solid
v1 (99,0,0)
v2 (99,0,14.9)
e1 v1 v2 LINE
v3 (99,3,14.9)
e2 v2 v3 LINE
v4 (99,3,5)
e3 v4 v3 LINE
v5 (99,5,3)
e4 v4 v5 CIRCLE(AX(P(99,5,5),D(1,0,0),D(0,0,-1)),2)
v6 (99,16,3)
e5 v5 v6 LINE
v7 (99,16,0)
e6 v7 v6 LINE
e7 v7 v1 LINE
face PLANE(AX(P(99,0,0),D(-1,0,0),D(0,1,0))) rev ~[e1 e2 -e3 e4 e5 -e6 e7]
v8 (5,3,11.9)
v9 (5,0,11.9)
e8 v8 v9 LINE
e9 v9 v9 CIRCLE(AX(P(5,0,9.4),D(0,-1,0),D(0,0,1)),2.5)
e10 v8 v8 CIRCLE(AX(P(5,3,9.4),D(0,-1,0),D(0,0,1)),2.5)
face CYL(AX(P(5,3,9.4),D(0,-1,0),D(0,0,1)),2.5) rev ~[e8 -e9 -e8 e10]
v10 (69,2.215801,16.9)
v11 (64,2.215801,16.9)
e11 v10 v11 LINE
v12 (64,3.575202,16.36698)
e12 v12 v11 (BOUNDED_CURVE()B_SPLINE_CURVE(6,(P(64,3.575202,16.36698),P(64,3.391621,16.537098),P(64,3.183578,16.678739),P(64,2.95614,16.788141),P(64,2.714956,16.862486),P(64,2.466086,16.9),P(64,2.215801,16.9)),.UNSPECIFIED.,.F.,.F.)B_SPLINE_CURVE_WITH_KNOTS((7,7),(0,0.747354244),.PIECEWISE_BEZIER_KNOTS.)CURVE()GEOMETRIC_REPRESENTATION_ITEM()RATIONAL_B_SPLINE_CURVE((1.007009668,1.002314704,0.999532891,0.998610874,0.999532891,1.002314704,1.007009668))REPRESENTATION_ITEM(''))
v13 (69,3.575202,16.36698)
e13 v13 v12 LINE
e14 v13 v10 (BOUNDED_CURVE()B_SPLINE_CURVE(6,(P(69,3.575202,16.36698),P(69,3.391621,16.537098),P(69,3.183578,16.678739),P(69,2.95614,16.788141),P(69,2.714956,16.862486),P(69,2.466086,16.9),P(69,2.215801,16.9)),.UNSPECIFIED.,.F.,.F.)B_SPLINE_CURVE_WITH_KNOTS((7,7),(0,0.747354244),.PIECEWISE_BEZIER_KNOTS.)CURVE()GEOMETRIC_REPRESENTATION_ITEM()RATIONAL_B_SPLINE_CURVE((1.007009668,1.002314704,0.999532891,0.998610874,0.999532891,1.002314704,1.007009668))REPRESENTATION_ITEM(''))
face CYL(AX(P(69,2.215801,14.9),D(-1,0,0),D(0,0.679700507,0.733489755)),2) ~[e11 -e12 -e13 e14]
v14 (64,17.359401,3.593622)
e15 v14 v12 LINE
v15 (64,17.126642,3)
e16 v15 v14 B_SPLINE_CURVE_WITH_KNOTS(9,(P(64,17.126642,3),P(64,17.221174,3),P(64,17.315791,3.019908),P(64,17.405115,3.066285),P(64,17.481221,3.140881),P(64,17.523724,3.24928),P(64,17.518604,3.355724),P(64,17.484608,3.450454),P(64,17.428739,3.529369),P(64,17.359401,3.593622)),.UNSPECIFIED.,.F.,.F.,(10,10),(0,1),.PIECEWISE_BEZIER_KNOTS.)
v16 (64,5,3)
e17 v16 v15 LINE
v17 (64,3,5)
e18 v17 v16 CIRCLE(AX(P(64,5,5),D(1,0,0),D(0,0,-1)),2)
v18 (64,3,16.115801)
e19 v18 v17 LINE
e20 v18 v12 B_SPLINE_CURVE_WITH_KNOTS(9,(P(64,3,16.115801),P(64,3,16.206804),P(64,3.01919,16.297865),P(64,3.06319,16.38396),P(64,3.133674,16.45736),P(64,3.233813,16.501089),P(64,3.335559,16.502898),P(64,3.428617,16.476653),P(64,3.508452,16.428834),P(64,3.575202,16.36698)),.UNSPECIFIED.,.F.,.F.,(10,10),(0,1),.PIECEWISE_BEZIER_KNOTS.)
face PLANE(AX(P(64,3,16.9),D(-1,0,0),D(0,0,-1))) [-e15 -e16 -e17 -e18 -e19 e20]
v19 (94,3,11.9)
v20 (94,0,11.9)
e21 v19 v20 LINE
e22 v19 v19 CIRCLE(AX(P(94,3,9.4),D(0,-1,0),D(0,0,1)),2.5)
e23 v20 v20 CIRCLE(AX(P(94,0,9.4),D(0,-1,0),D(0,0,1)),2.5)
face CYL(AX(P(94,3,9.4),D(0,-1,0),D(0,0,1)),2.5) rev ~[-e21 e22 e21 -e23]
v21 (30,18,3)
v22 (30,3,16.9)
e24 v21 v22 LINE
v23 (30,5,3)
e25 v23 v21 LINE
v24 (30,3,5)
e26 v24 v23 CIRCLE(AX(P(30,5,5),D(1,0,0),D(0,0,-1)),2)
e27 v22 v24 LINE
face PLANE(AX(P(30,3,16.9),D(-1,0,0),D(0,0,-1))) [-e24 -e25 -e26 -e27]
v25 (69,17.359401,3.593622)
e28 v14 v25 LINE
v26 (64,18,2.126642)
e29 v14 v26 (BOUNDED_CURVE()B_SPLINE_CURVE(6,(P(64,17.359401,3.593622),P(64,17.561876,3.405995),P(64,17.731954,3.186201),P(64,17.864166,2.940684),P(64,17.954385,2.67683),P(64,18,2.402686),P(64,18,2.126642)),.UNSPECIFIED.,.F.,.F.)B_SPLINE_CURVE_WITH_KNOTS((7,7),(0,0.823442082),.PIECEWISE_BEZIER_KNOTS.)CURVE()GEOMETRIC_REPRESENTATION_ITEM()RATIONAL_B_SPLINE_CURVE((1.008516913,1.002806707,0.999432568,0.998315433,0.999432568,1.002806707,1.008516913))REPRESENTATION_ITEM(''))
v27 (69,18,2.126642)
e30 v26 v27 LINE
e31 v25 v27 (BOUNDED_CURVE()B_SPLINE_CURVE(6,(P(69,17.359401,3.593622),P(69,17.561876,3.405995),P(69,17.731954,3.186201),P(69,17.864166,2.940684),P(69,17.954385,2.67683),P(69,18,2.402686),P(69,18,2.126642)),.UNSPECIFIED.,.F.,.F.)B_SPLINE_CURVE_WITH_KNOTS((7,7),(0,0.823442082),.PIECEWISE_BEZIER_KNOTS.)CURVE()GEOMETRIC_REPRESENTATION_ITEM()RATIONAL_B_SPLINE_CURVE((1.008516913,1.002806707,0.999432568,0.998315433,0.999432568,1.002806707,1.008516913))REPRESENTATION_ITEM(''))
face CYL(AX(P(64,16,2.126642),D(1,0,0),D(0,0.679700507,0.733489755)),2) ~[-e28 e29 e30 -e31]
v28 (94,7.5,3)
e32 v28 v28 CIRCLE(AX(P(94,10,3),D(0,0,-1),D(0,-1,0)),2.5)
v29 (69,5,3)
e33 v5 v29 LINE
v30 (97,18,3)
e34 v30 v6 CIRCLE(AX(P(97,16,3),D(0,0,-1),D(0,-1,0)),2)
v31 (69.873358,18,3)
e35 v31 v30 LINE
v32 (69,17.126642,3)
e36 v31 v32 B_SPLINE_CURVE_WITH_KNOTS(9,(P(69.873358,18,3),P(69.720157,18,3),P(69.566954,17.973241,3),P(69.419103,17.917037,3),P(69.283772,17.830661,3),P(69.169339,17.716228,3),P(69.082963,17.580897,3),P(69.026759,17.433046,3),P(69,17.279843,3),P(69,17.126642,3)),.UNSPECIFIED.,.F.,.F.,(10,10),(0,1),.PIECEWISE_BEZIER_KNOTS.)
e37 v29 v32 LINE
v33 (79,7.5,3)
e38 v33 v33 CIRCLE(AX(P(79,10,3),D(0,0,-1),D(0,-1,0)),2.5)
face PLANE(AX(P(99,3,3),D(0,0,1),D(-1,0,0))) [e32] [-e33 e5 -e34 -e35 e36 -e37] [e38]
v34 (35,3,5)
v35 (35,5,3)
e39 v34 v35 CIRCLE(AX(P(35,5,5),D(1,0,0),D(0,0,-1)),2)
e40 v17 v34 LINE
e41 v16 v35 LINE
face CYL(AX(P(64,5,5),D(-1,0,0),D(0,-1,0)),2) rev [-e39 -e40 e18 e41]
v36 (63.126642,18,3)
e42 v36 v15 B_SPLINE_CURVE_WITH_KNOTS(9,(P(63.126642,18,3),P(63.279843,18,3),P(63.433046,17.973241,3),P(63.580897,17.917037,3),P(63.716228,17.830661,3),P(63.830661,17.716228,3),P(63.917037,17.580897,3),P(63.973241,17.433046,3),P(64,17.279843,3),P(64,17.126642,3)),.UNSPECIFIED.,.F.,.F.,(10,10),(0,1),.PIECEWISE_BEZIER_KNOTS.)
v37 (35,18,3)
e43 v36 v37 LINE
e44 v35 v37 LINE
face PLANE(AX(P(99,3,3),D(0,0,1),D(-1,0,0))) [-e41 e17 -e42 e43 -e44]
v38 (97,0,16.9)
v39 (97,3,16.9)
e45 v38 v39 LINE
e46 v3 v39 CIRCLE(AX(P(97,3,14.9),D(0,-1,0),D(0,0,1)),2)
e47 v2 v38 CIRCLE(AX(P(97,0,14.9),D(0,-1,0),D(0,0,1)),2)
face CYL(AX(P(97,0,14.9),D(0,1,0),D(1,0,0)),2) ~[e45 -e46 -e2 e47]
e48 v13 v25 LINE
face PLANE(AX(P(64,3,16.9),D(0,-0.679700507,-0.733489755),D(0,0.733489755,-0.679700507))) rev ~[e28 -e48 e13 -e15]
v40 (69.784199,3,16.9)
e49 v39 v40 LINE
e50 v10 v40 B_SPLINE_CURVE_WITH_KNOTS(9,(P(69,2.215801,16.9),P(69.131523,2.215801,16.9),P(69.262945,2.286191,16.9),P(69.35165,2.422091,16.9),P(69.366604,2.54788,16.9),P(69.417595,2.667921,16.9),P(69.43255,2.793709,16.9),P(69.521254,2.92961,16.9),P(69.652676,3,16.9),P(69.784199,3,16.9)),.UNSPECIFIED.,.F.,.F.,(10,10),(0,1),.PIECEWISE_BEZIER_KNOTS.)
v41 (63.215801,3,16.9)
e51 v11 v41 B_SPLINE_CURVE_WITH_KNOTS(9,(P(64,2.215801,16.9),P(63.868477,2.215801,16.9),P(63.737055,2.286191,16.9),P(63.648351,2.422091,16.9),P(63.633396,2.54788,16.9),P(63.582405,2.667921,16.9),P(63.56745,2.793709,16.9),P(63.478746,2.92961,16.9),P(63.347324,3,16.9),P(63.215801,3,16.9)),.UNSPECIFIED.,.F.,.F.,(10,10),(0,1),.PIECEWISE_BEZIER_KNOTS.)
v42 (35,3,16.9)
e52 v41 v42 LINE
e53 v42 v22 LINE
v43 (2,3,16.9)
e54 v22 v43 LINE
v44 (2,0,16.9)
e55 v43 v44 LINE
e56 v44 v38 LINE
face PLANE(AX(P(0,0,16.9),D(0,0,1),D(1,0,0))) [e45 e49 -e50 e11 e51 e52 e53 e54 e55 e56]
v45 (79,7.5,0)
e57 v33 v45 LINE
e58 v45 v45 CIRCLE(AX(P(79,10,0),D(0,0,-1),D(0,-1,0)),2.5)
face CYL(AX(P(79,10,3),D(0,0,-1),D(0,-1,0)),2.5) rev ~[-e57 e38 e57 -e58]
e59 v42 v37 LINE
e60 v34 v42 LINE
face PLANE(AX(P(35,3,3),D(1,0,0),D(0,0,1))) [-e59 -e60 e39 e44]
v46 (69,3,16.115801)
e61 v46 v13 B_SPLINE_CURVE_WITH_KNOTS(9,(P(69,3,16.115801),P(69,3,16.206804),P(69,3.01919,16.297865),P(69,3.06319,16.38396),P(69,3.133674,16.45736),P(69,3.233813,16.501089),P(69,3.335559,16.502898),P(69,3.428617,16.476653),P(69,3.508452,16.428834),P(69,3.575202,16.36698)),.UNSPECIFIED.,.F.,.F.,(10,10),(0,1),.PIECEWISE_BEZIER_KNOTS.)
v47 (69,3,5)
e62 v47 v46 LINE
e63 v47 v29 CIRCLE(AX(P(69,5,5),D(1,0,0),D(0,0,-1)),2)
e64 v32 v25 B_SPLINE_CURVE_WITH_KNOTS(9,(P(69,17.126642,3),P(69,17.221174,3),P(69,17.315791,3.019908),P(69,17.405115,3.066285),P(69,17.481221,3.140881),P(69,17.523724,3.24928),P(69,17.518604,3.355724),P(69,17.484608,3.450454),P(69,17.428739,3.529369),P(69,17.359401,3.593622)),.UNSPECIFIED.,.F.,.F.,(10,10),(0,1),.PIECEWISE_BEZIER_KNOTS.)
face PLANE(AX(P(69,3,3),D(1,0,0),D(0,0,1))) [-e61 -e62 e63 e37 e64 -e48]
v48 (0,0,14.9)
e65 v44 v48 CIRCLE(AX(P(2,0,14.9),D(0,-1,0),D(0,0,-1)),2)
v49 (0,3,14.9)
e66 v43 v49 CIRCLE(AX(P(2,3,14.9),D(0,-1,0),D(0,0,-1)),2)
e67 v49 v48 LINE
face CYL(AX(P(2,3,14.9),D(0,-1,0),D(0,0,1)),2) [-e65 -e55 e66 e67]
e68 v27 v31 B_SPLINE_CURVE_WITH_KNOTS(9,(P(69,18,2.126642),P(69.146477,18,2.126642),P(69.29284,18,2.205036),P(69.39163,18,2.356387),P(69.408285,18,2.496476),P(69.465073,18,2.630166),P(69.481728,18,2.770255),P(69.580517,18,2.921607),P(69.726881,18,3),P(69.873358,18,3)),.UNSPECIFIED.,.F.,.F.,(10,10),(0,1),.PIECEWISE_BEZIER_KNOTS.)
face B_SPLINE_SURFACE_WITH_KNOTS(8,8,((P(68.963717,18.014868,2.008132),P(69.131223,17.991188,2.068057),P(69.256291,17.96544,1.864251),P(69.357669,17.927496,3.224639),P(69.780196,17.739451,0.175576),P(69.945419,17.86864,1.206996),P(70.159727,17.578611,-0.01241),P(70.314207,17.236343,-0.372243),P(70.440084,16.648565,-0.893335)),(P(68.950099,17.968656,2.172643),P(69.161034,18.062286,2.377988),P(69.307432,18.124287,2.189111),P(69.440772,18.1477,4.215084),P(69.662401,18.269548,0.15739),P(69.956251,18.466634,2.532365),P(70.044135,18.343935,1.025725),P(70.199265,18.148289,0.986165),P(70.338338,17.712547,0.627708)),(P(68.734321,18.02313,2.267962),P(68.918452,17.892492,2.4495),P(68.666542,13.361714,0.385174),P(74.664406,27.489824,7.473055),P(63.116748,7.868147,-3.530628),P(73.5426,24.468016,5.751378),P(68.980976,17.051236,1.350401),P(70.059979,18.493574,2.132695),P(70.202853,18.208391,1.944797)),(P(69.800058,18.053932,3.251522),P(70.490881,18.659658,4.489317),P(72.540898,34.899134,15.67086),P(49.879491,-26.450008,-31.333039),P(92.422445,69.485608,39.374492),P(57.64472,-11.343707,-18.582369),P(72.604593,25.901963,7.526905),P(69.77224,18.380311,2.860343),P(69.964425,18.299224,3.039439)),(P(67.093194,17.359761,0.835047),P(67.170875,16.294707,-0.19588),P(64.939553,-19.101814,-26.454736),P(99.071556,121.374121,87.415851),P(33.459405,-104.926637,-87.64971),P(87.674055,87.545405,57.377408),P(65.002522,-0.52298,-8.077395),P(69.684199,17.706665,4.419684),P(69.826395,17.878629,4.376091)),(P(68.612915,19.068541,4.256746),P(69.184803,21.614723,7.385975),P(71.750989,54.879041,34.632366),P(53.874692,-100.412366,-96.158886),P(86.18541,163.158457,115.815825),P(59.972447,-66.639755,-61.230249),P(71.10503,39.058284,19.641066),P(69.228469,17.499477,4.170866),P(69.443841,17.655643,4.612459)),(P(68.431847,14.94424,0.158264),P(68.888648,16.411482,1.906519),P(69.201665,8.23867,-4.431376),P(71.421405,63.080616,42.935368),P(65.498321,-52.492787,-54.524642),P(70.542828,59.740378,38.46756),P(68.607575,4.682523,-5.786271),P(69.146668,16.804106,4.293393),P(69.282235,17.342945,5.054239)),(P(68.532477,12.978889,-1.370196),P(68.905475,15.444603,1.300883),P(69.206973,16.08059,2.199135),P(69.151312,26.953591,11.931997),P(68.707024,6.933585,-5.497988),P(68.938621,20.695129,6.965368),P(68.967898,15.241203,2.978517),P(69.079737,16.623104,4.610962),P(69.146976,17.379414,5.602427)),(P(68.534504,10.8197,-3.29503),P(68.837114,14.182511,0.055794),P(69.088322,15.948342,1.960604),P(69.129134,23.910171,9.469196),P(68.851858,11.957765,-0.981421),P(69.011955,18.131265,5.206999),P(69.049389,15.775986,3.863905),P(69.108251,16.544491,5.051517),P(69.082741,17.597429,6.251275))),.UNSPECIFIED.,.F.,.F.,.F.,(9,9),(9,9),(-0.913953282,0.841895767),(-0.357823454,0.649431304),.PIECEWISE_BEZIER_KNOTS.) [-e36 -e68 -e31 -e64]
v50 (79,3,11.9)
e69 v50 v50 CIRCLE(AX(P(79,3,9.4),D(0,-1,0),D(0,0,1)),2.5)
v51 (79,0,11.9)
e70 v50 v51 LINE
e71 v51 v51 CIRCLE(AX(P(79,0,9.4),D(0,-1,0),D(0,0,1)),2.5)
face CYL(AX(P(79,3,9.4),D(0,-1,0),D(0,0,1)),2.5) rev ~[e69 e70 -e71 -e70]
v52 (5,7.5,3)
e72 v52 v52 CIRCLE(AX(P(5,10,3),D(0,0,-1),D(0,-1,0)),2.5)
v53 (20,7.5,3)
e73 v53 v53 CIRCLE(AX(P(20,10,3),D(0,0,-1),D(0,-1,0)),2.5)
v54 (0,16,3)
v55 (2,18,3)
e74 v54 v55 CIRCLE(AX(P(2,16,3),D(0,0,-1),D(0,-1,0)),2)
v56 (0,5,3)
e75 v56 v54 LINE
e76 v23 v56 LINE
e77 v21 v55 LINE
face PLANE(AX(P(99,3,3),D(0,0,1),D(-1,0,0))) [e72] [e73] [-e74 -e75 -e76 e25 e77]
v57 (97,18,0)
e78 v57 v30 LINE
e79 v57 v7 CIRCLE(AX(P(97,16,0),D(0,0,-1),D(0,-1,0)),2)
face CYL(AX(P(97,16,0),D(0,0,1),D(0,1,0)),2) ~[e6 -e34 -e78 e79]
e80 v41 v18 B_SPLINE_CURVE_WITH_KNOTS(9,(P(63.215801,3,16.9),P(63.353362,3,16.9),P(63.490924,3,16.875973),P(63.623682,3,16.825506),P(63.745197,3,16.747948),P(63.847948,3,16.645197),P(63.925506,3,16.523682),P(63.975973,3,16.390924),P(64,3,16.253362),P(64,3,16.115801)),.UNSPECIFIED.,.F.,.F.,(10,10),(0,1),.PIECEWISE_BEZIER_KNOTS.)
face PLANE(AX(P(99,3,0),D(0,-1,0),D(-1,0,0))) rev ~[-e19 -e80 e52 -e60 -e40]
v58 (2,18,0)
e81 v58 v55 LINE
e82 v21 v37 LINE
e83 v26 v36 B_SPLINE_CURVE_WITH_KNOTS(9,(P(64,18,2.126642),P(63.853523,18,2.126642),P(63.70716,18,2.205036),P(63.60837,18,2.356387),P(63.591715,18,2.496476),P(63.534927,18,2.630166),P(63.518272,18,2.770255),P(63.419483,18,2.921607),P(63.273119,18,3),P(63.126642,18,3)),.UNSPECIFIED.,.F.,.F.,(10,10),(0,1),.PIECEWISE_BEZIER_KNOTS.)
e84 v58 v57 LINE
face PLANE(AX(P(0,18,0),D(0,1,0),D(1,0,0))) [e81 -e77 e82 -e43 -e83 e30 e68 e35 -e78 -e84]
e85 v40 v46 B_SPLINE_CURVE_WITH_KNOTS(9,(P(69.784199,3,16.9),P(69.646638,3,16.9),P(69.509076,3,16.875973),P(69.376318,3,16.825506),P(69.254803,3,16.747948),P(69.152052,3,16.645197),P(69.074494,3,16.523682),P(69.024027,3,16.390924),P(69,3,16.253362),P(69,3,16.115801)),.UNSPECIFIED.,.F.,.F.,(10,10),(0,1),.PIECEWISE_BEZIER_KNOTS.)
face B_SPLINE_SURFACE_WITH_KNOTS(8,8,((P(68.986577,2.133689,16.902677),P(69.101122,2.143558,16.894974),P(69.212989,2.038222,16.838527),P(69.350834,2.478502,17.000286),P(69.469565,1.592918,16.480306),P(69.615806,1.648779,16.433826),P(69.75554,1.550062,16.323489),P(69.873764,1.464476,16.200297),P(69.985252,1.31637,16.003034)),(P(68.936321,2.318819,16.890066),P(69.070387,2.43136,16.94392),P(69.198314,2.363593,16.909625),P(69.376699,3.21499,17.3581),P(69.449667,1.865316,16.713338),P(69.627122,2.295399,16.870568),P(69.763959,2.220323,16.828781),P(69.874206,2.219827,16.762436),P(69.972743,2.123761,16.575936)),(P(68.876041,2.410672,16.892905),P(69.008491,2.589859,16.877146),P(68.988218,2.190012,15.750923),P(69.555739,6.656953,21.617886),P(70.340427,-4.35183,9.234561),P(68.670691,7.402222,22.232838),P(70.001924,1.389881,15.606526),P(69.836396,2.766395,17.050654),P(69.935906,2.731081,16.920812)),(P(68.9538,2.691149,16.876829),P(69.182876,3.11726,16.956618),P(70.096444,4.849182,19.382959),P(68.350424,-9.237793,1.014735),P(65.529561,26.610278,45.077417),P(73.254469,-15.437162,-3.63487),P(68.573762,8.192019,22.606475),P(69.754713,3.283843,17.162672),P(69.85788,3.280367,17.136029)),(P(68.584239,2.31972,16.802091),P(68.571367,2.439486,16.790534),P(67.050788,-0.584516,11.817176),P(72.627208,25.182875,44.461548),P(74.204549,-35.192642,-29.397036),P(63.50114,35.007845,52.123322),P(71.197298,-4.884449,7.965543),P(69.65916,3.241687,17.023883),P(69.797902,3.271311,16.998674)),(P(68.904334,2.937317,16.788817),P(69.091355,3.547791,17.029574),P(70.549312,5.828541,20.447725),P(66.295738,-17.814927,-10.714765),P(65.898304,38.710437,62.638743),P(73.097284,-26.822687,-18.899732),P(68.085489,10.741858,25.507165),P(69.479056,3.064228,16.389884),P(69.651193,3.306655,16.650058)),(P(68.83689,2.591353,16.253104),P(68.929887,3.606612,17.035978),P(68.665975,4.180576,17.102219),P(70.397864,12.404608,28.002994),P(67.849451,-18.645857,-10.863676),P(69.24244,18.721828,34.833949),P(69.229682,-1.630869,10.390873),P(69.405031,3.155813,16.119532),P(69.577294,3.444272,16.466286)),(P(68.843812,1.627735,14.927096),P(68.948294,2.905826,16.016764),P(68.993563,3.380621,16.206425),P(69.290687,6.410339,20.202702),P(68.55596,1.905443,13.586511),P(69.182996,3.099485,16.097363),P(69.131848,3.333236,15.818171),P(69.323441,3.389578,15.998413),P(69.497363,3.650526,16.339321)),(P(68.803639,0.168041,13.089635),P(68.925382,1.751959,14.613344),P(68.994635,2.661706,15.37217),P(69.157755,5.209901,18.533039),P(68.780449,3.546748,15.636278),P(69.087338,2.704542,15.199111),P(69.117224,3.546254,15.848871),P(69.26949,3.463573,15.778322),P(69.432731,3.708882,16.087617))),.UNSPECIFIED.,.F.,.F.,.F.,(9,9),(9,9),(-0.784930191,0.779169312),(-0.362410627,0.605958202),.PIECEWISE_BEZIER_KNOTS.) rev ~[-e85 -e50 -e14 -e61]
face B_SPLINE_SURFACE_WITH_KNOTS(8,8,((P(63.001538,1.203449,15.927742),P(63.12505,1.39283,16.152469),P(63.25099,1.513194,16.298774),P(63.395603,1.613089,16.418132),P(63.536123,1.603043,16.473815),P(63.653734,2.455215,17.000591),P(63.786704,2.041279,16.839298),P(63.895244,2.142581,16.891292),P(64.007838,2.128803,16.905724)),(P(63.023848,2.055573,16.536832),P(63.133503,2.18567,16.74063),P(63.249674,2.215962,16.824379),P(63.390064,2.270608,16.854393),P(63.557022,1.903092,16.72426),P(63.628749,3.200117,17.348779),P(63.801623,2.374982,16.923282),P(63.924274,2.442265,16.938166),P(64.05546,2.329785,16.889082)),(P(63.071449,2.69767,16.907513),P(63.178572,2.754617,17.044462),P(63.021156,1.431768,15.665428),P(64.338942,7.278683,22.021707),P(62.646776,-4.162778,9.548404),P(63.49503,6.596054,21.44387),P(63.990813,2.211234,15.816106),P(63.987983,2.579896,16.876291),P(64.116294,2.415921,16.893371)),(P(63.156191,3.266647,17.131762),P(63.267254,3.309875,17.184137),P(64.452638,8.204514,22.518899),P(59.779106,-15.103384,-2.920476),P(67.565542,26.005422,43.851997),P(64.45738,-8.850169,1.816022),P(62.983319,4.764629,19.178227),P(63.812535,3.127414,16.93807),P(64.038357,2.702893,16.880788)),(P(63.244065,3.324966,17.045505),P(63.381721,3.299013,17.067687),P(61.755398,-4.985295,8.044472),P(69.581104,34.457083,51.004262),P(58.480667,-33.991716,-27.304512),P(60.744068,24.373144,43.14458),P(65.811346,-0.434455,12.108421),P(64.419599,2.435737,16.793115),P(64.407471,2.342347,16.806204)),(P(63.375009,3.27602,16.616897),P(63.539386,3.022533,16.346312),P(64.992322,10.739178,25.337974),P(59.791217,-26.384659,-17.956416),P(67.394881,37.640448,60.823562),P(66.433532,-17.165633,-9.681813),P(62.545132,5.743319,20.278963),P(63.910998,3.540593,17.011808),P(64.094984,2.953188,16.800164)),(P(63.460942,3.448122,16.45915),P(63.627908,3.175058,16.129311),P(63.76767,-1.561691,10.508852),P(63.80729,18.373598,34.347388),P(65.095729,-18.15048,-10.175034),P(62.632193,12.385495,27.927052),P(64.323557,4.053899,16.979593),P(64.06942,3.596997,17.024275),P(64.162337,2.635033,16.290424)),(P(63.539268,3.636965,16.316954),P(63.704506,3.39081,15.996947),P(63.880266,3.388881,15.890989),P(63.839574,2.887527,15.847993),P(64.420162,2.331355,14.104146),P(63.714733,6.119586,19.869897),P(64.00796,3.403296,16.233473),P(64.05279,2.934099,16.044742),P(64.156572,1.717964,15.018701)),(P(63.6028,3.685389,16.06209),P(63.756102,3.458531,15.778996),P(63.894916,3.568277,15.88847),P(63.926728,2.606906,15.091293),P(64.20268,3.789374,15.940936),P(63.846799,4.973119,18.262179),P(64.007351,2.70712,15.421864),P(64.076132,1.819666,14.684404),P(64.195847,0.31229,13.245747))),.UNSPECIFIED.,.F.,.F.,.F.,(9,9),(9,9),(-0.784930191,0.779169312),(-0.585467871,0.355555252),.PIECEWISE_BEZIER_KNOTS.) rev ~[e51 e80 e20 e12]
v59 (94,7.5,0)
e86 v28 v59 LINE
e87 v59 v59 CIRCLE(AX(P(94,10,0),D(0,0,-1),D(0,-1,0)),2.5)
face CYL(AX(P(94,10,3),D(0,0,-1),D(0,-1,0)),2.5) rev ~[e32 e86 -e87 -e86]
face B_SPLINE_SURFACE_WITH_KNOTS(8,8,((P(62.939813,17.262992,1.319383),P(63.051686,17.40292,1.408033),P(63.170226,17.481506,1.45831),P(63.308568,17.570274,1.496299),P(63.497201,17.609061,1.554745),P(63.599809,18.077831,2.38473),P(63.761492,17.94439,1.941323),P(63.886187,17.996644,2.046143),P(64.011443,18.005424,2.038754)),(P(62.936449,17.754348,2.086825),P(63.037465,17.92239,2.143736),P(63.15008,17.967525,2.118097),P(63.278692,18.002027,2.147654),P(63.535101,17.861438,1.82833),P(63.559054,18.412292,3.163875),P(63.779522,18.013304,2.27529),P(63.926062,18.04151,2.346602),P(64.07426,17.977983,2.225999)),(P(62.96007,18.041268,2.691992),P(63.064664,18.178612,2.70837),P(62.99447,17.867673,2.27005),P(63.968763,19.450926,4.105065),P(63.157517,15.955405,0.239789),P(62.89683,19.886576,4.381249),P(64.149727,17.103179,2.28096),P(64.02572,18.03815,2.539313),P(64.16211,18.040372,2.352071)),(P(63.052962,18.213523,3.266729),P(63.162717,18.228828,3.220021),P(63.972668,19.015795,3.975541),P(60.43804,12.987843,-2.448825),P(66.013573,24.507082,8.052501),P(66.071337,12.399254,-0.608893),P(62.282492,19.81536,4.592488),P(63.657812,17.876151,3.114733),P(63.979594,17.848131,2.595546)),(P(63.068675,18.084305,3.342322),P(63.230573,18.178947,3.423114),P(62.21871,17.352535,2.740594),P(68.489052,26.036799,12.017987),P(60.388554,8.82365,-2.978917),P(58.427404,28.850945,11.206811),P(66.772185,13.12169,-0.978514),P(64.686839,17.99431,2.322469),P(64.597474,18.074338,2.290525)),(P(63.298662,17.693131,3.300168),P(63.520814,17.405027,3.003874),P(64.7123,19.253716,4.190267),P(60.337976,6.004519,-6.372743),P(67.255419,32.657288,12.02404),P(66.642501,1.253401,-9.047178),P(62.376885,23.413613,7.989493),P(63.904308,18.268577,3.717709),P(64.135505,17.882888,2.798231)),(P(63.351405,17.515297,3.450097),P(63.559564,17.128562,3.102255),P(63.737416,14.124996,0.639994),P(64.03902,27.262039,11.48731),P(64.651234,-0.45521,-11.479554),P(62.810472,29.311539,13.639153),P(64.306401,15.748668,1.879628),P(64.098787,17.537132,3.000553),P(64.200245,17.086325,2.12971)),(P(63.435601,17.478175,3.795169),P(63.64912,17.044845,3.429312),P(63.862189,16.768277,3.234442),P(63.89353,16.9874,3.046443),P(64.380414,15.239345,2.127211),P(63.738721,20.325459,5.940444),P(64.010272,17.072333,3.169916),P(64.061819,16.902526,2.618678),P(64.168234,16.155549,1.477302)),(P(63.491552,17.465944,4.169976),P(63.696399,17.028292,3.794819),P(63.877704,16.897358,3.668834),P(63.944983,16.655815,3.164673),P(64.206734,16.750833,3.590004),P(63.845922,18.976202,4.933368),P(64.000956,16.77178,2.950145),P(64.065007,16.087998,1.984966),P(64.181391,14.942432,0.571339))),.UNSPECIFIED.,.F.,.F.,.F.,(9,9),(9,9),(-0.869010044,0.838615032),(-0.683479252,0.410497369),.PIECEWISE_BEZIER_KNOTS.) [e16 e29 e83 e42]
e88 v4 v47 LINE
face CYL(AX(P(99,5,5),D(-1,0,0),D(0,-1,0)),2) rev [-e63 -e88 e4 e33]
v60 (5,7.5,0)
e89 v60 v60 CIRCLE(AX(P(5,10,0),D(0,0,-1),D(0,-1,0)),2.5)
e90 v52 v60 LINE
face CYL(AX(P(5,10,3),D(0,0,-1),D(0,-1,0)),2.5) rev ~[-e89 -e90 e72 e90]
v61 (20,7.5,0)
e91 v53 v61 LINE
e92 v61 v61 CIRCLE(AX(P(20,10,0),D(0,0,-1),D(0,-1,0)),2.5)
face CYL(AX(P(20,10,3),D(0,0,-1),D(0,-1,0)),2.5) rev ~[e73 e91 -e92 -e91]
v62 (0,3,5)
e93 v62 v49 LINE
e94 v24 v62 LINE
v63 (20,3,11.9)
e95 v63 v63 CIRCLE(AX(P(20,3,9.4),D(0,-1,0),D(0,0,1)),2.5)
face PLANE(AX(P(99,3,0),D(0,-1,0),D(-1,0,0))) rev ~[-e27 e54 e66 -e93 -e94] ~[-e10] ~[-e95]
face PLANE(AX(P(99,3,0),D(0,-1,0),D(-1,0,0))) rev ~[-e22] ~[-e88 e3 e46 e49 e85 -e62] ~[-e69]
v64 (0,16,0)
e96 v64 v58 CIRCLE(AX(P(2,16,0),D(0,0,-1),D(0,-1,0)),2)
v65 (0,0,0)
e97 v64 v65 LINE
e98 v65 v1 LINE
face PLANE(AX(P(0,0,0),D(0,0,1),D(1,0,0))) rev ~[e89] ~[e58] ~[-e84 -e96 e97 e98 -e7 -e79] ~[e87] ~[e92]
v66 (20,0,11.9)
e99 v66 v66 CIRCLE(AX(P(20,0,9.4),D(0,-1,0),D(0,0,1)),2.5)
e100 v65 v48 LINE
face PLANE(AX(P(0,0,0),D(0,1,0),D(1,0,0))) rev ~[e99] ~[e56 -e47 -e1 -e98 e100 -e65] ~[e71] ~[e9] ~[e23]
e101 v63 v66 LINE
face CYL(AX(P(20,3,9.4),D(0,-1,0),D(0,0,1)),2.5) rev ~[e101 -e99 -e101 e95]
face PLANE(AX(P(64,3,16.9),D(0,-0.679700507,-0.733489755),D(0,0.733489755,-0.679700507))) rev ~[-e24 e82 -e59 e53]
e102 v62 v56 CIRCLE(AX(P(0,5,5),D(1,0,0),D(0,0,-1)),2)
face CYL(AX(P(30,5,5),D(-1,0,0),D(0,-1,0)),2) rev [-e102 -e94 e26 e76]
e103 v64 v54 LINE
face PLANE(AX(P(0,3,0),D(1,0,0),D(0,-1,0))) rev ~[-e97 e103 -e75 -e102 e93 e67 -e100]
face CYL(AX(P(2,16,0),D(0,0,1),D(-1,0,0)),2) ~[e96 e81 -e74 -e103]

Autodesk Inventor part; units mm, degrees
ref_plane "YZ Plane" through (0, 0, 0) normal (1, 0, 0) x (0, 1, 0)
ref_plane "XZ Plane" through (0, 0, 0) normal (0, 1, 0) x (-1, 0, 0)
ref_plane "XY Plane" through (0, 0, 0) normal (0, 0, 1) x (1, 0, 0)
sketch "スケッチ1" plane through (0, 0, 0) normal (0, 0, 1) x (1, 0, 0)
  line L0 (0, 0) -> (99, 0)
  line L1 (99, 0) -> (99, 3)
  line L2 (99, 3) -> (0, 3)
  line L3 (0, 3) -> (0, 0)
  dimension "d0" = 3
  dimension "d1" = 99
extrude "押し出し1" add sketch "スケッチ1" along normal blind 16.9
sketch "スケッチ2" plane through (0, 3, 0) normal (0, 1, 0) x (1, 0, 0)
  line L0 (0, 0) -> (0, -16.9) projected
  line L1 (99, 0) -> (99, -16.9) projected
  line L2 (0, 0) -> (99, 0)
  line L3 (99, 0) -> (99, -3)
  line L4 (99, -3) -> (0, -3)
  line L5 (0, -3) -> (0, 0)
  point P0 (0, -3)
  dimension "d4" = 3
extrude "押し出し2" add sketch "スケッチ2" along normal blind 15
sketch "スケッチ3" plane through (0, 3, 16.9) normal (0, 1, 0) x (1, 0, 0)
  line L0 (0, 13.9) -> (99, 13.9) projected
  line L1 (99, 13.9) -> (99, 0) projected
  line L2 (99, 0) -> (0, 0) projected
  line L3 (49.5, 0) -> (49.5, 13.9)
  point P0 (0, 16.9)
  point P1 (79, 7.5)
  point P2 (94, 7.5)
  point P3 (20, 7.5)
  point P4 (5, 7.5)
  dimension "d7" = 15
  dimension "d8" = 6.4
  dimension "d9" = 6.4
  dimension "d10" = 5
hole "穴1" at (79, 3, 9.4) at (94, 3, 9.4) at (5, 3, 9.4) at (20, 3, 9.4) direction (0, -1, 0) diameter 5 end through all
sketch "スケッチ4" plane through (0, 3, 3) normal (0, 0, 1) x (1, 0, 0)
  line L0 (99, 0) -> (0, 0) projected
  line L1 (0, 0) -> (0, 15) projected
  line L2 (49.5, 0) -> (49.5, 15)
  line L3 (0, 15) -> (99, 15) projected
  point P0 (0, -3)
  point P1 (5, 7)
  point P2 (20, 7)
  point P3 (94, 7)
  point P4 (79, 7)
  dimension "d18" = 7
  dimension "d19" = 7
  dimension "d20" = 15
  dimension "d21" = 5
hole "穴2" at (5, 10, 3) at (20, 10, 3) at (79, 10, 3) at (94, 10, 3) direction (0, 0, -1) diameter 5 end through all
sketch "スケッチ7" plane through (0, 3, 16.9) normal (0, 1, 0) x (1, 0, 0)
  line L0 (99, 13.9) -> (0, 13.9) projected
  line L1 (99, 0) -> (0, 0) projected
  line L2 (64, 13.9) -> (69, 13.9)
  line L3 (69, 13.9) -> (69, 0)
  line L4 (69, 0) -> (64, 0)
  line L5 (64, 0) -> (64, 13.9)
  line L6 (99, 13.9) -> (99, 0) projected
  line L7 (30, 13.9) -> (35, 13.9)
  line L8 (35, 13.9) -> (35, 0)
  line L9 (35, 0) -> (30, 0)
  line L10 (30, 0) -> (30, 13.9)
  line L11 (0, 13.9) -> (0, 0) projected
  point P0 (0, 16.9)
  point P1 (64, 0)
  point P2 (69, 13.9)
  point P3 (30, 0)
  dimension "d36" = 5
  dimension "d37" = 30
  dimension "d43" = 5
  dimension "d44" = 30
extrude "押し出し5" add sketch "スケッチ7" along normal blind 15 contours L3 L1 L5 L0 | L8 L1 L10 L0
sketch "スケッチ8" plane through (64, 3, 3) normal (-1, 0, 0) x (0, 0, 1)
  line L0 (13.9, 0) -> (0, 0) projected
  line L1 (13.9, 0) -> (13.9, 15) projected
  line L2 (0, 15) -> (13.9, 15) projected
  line L3 (0, 0) -> (0, 15) projected
  line L4 (13.9, 0) -> (0, 15)
  point P0 (-3, -3)
extrude "押し出し6" cut sketch "スケッチ8" along normal blind 200 and the other way blind 7.5 contours L4 L2 L1
fillet "フィレット1" radius 2 9 edges at (0, 18, 1.5) (99, 18, 1.5) (99, 1.5, 16.9) (0, 1.5, 16.9) (84, 3, 3) (15, 3, 3) (49.5, 3, 3) (66.5, 18, 3) (66.5, 3, 16.9)
equation "\"d9\" = d8"
equation "\"d19\" = d18"
equation "\"d43\" = d36"
equation "\"d44\" = d37"
properties part number "BP_L-Long"
